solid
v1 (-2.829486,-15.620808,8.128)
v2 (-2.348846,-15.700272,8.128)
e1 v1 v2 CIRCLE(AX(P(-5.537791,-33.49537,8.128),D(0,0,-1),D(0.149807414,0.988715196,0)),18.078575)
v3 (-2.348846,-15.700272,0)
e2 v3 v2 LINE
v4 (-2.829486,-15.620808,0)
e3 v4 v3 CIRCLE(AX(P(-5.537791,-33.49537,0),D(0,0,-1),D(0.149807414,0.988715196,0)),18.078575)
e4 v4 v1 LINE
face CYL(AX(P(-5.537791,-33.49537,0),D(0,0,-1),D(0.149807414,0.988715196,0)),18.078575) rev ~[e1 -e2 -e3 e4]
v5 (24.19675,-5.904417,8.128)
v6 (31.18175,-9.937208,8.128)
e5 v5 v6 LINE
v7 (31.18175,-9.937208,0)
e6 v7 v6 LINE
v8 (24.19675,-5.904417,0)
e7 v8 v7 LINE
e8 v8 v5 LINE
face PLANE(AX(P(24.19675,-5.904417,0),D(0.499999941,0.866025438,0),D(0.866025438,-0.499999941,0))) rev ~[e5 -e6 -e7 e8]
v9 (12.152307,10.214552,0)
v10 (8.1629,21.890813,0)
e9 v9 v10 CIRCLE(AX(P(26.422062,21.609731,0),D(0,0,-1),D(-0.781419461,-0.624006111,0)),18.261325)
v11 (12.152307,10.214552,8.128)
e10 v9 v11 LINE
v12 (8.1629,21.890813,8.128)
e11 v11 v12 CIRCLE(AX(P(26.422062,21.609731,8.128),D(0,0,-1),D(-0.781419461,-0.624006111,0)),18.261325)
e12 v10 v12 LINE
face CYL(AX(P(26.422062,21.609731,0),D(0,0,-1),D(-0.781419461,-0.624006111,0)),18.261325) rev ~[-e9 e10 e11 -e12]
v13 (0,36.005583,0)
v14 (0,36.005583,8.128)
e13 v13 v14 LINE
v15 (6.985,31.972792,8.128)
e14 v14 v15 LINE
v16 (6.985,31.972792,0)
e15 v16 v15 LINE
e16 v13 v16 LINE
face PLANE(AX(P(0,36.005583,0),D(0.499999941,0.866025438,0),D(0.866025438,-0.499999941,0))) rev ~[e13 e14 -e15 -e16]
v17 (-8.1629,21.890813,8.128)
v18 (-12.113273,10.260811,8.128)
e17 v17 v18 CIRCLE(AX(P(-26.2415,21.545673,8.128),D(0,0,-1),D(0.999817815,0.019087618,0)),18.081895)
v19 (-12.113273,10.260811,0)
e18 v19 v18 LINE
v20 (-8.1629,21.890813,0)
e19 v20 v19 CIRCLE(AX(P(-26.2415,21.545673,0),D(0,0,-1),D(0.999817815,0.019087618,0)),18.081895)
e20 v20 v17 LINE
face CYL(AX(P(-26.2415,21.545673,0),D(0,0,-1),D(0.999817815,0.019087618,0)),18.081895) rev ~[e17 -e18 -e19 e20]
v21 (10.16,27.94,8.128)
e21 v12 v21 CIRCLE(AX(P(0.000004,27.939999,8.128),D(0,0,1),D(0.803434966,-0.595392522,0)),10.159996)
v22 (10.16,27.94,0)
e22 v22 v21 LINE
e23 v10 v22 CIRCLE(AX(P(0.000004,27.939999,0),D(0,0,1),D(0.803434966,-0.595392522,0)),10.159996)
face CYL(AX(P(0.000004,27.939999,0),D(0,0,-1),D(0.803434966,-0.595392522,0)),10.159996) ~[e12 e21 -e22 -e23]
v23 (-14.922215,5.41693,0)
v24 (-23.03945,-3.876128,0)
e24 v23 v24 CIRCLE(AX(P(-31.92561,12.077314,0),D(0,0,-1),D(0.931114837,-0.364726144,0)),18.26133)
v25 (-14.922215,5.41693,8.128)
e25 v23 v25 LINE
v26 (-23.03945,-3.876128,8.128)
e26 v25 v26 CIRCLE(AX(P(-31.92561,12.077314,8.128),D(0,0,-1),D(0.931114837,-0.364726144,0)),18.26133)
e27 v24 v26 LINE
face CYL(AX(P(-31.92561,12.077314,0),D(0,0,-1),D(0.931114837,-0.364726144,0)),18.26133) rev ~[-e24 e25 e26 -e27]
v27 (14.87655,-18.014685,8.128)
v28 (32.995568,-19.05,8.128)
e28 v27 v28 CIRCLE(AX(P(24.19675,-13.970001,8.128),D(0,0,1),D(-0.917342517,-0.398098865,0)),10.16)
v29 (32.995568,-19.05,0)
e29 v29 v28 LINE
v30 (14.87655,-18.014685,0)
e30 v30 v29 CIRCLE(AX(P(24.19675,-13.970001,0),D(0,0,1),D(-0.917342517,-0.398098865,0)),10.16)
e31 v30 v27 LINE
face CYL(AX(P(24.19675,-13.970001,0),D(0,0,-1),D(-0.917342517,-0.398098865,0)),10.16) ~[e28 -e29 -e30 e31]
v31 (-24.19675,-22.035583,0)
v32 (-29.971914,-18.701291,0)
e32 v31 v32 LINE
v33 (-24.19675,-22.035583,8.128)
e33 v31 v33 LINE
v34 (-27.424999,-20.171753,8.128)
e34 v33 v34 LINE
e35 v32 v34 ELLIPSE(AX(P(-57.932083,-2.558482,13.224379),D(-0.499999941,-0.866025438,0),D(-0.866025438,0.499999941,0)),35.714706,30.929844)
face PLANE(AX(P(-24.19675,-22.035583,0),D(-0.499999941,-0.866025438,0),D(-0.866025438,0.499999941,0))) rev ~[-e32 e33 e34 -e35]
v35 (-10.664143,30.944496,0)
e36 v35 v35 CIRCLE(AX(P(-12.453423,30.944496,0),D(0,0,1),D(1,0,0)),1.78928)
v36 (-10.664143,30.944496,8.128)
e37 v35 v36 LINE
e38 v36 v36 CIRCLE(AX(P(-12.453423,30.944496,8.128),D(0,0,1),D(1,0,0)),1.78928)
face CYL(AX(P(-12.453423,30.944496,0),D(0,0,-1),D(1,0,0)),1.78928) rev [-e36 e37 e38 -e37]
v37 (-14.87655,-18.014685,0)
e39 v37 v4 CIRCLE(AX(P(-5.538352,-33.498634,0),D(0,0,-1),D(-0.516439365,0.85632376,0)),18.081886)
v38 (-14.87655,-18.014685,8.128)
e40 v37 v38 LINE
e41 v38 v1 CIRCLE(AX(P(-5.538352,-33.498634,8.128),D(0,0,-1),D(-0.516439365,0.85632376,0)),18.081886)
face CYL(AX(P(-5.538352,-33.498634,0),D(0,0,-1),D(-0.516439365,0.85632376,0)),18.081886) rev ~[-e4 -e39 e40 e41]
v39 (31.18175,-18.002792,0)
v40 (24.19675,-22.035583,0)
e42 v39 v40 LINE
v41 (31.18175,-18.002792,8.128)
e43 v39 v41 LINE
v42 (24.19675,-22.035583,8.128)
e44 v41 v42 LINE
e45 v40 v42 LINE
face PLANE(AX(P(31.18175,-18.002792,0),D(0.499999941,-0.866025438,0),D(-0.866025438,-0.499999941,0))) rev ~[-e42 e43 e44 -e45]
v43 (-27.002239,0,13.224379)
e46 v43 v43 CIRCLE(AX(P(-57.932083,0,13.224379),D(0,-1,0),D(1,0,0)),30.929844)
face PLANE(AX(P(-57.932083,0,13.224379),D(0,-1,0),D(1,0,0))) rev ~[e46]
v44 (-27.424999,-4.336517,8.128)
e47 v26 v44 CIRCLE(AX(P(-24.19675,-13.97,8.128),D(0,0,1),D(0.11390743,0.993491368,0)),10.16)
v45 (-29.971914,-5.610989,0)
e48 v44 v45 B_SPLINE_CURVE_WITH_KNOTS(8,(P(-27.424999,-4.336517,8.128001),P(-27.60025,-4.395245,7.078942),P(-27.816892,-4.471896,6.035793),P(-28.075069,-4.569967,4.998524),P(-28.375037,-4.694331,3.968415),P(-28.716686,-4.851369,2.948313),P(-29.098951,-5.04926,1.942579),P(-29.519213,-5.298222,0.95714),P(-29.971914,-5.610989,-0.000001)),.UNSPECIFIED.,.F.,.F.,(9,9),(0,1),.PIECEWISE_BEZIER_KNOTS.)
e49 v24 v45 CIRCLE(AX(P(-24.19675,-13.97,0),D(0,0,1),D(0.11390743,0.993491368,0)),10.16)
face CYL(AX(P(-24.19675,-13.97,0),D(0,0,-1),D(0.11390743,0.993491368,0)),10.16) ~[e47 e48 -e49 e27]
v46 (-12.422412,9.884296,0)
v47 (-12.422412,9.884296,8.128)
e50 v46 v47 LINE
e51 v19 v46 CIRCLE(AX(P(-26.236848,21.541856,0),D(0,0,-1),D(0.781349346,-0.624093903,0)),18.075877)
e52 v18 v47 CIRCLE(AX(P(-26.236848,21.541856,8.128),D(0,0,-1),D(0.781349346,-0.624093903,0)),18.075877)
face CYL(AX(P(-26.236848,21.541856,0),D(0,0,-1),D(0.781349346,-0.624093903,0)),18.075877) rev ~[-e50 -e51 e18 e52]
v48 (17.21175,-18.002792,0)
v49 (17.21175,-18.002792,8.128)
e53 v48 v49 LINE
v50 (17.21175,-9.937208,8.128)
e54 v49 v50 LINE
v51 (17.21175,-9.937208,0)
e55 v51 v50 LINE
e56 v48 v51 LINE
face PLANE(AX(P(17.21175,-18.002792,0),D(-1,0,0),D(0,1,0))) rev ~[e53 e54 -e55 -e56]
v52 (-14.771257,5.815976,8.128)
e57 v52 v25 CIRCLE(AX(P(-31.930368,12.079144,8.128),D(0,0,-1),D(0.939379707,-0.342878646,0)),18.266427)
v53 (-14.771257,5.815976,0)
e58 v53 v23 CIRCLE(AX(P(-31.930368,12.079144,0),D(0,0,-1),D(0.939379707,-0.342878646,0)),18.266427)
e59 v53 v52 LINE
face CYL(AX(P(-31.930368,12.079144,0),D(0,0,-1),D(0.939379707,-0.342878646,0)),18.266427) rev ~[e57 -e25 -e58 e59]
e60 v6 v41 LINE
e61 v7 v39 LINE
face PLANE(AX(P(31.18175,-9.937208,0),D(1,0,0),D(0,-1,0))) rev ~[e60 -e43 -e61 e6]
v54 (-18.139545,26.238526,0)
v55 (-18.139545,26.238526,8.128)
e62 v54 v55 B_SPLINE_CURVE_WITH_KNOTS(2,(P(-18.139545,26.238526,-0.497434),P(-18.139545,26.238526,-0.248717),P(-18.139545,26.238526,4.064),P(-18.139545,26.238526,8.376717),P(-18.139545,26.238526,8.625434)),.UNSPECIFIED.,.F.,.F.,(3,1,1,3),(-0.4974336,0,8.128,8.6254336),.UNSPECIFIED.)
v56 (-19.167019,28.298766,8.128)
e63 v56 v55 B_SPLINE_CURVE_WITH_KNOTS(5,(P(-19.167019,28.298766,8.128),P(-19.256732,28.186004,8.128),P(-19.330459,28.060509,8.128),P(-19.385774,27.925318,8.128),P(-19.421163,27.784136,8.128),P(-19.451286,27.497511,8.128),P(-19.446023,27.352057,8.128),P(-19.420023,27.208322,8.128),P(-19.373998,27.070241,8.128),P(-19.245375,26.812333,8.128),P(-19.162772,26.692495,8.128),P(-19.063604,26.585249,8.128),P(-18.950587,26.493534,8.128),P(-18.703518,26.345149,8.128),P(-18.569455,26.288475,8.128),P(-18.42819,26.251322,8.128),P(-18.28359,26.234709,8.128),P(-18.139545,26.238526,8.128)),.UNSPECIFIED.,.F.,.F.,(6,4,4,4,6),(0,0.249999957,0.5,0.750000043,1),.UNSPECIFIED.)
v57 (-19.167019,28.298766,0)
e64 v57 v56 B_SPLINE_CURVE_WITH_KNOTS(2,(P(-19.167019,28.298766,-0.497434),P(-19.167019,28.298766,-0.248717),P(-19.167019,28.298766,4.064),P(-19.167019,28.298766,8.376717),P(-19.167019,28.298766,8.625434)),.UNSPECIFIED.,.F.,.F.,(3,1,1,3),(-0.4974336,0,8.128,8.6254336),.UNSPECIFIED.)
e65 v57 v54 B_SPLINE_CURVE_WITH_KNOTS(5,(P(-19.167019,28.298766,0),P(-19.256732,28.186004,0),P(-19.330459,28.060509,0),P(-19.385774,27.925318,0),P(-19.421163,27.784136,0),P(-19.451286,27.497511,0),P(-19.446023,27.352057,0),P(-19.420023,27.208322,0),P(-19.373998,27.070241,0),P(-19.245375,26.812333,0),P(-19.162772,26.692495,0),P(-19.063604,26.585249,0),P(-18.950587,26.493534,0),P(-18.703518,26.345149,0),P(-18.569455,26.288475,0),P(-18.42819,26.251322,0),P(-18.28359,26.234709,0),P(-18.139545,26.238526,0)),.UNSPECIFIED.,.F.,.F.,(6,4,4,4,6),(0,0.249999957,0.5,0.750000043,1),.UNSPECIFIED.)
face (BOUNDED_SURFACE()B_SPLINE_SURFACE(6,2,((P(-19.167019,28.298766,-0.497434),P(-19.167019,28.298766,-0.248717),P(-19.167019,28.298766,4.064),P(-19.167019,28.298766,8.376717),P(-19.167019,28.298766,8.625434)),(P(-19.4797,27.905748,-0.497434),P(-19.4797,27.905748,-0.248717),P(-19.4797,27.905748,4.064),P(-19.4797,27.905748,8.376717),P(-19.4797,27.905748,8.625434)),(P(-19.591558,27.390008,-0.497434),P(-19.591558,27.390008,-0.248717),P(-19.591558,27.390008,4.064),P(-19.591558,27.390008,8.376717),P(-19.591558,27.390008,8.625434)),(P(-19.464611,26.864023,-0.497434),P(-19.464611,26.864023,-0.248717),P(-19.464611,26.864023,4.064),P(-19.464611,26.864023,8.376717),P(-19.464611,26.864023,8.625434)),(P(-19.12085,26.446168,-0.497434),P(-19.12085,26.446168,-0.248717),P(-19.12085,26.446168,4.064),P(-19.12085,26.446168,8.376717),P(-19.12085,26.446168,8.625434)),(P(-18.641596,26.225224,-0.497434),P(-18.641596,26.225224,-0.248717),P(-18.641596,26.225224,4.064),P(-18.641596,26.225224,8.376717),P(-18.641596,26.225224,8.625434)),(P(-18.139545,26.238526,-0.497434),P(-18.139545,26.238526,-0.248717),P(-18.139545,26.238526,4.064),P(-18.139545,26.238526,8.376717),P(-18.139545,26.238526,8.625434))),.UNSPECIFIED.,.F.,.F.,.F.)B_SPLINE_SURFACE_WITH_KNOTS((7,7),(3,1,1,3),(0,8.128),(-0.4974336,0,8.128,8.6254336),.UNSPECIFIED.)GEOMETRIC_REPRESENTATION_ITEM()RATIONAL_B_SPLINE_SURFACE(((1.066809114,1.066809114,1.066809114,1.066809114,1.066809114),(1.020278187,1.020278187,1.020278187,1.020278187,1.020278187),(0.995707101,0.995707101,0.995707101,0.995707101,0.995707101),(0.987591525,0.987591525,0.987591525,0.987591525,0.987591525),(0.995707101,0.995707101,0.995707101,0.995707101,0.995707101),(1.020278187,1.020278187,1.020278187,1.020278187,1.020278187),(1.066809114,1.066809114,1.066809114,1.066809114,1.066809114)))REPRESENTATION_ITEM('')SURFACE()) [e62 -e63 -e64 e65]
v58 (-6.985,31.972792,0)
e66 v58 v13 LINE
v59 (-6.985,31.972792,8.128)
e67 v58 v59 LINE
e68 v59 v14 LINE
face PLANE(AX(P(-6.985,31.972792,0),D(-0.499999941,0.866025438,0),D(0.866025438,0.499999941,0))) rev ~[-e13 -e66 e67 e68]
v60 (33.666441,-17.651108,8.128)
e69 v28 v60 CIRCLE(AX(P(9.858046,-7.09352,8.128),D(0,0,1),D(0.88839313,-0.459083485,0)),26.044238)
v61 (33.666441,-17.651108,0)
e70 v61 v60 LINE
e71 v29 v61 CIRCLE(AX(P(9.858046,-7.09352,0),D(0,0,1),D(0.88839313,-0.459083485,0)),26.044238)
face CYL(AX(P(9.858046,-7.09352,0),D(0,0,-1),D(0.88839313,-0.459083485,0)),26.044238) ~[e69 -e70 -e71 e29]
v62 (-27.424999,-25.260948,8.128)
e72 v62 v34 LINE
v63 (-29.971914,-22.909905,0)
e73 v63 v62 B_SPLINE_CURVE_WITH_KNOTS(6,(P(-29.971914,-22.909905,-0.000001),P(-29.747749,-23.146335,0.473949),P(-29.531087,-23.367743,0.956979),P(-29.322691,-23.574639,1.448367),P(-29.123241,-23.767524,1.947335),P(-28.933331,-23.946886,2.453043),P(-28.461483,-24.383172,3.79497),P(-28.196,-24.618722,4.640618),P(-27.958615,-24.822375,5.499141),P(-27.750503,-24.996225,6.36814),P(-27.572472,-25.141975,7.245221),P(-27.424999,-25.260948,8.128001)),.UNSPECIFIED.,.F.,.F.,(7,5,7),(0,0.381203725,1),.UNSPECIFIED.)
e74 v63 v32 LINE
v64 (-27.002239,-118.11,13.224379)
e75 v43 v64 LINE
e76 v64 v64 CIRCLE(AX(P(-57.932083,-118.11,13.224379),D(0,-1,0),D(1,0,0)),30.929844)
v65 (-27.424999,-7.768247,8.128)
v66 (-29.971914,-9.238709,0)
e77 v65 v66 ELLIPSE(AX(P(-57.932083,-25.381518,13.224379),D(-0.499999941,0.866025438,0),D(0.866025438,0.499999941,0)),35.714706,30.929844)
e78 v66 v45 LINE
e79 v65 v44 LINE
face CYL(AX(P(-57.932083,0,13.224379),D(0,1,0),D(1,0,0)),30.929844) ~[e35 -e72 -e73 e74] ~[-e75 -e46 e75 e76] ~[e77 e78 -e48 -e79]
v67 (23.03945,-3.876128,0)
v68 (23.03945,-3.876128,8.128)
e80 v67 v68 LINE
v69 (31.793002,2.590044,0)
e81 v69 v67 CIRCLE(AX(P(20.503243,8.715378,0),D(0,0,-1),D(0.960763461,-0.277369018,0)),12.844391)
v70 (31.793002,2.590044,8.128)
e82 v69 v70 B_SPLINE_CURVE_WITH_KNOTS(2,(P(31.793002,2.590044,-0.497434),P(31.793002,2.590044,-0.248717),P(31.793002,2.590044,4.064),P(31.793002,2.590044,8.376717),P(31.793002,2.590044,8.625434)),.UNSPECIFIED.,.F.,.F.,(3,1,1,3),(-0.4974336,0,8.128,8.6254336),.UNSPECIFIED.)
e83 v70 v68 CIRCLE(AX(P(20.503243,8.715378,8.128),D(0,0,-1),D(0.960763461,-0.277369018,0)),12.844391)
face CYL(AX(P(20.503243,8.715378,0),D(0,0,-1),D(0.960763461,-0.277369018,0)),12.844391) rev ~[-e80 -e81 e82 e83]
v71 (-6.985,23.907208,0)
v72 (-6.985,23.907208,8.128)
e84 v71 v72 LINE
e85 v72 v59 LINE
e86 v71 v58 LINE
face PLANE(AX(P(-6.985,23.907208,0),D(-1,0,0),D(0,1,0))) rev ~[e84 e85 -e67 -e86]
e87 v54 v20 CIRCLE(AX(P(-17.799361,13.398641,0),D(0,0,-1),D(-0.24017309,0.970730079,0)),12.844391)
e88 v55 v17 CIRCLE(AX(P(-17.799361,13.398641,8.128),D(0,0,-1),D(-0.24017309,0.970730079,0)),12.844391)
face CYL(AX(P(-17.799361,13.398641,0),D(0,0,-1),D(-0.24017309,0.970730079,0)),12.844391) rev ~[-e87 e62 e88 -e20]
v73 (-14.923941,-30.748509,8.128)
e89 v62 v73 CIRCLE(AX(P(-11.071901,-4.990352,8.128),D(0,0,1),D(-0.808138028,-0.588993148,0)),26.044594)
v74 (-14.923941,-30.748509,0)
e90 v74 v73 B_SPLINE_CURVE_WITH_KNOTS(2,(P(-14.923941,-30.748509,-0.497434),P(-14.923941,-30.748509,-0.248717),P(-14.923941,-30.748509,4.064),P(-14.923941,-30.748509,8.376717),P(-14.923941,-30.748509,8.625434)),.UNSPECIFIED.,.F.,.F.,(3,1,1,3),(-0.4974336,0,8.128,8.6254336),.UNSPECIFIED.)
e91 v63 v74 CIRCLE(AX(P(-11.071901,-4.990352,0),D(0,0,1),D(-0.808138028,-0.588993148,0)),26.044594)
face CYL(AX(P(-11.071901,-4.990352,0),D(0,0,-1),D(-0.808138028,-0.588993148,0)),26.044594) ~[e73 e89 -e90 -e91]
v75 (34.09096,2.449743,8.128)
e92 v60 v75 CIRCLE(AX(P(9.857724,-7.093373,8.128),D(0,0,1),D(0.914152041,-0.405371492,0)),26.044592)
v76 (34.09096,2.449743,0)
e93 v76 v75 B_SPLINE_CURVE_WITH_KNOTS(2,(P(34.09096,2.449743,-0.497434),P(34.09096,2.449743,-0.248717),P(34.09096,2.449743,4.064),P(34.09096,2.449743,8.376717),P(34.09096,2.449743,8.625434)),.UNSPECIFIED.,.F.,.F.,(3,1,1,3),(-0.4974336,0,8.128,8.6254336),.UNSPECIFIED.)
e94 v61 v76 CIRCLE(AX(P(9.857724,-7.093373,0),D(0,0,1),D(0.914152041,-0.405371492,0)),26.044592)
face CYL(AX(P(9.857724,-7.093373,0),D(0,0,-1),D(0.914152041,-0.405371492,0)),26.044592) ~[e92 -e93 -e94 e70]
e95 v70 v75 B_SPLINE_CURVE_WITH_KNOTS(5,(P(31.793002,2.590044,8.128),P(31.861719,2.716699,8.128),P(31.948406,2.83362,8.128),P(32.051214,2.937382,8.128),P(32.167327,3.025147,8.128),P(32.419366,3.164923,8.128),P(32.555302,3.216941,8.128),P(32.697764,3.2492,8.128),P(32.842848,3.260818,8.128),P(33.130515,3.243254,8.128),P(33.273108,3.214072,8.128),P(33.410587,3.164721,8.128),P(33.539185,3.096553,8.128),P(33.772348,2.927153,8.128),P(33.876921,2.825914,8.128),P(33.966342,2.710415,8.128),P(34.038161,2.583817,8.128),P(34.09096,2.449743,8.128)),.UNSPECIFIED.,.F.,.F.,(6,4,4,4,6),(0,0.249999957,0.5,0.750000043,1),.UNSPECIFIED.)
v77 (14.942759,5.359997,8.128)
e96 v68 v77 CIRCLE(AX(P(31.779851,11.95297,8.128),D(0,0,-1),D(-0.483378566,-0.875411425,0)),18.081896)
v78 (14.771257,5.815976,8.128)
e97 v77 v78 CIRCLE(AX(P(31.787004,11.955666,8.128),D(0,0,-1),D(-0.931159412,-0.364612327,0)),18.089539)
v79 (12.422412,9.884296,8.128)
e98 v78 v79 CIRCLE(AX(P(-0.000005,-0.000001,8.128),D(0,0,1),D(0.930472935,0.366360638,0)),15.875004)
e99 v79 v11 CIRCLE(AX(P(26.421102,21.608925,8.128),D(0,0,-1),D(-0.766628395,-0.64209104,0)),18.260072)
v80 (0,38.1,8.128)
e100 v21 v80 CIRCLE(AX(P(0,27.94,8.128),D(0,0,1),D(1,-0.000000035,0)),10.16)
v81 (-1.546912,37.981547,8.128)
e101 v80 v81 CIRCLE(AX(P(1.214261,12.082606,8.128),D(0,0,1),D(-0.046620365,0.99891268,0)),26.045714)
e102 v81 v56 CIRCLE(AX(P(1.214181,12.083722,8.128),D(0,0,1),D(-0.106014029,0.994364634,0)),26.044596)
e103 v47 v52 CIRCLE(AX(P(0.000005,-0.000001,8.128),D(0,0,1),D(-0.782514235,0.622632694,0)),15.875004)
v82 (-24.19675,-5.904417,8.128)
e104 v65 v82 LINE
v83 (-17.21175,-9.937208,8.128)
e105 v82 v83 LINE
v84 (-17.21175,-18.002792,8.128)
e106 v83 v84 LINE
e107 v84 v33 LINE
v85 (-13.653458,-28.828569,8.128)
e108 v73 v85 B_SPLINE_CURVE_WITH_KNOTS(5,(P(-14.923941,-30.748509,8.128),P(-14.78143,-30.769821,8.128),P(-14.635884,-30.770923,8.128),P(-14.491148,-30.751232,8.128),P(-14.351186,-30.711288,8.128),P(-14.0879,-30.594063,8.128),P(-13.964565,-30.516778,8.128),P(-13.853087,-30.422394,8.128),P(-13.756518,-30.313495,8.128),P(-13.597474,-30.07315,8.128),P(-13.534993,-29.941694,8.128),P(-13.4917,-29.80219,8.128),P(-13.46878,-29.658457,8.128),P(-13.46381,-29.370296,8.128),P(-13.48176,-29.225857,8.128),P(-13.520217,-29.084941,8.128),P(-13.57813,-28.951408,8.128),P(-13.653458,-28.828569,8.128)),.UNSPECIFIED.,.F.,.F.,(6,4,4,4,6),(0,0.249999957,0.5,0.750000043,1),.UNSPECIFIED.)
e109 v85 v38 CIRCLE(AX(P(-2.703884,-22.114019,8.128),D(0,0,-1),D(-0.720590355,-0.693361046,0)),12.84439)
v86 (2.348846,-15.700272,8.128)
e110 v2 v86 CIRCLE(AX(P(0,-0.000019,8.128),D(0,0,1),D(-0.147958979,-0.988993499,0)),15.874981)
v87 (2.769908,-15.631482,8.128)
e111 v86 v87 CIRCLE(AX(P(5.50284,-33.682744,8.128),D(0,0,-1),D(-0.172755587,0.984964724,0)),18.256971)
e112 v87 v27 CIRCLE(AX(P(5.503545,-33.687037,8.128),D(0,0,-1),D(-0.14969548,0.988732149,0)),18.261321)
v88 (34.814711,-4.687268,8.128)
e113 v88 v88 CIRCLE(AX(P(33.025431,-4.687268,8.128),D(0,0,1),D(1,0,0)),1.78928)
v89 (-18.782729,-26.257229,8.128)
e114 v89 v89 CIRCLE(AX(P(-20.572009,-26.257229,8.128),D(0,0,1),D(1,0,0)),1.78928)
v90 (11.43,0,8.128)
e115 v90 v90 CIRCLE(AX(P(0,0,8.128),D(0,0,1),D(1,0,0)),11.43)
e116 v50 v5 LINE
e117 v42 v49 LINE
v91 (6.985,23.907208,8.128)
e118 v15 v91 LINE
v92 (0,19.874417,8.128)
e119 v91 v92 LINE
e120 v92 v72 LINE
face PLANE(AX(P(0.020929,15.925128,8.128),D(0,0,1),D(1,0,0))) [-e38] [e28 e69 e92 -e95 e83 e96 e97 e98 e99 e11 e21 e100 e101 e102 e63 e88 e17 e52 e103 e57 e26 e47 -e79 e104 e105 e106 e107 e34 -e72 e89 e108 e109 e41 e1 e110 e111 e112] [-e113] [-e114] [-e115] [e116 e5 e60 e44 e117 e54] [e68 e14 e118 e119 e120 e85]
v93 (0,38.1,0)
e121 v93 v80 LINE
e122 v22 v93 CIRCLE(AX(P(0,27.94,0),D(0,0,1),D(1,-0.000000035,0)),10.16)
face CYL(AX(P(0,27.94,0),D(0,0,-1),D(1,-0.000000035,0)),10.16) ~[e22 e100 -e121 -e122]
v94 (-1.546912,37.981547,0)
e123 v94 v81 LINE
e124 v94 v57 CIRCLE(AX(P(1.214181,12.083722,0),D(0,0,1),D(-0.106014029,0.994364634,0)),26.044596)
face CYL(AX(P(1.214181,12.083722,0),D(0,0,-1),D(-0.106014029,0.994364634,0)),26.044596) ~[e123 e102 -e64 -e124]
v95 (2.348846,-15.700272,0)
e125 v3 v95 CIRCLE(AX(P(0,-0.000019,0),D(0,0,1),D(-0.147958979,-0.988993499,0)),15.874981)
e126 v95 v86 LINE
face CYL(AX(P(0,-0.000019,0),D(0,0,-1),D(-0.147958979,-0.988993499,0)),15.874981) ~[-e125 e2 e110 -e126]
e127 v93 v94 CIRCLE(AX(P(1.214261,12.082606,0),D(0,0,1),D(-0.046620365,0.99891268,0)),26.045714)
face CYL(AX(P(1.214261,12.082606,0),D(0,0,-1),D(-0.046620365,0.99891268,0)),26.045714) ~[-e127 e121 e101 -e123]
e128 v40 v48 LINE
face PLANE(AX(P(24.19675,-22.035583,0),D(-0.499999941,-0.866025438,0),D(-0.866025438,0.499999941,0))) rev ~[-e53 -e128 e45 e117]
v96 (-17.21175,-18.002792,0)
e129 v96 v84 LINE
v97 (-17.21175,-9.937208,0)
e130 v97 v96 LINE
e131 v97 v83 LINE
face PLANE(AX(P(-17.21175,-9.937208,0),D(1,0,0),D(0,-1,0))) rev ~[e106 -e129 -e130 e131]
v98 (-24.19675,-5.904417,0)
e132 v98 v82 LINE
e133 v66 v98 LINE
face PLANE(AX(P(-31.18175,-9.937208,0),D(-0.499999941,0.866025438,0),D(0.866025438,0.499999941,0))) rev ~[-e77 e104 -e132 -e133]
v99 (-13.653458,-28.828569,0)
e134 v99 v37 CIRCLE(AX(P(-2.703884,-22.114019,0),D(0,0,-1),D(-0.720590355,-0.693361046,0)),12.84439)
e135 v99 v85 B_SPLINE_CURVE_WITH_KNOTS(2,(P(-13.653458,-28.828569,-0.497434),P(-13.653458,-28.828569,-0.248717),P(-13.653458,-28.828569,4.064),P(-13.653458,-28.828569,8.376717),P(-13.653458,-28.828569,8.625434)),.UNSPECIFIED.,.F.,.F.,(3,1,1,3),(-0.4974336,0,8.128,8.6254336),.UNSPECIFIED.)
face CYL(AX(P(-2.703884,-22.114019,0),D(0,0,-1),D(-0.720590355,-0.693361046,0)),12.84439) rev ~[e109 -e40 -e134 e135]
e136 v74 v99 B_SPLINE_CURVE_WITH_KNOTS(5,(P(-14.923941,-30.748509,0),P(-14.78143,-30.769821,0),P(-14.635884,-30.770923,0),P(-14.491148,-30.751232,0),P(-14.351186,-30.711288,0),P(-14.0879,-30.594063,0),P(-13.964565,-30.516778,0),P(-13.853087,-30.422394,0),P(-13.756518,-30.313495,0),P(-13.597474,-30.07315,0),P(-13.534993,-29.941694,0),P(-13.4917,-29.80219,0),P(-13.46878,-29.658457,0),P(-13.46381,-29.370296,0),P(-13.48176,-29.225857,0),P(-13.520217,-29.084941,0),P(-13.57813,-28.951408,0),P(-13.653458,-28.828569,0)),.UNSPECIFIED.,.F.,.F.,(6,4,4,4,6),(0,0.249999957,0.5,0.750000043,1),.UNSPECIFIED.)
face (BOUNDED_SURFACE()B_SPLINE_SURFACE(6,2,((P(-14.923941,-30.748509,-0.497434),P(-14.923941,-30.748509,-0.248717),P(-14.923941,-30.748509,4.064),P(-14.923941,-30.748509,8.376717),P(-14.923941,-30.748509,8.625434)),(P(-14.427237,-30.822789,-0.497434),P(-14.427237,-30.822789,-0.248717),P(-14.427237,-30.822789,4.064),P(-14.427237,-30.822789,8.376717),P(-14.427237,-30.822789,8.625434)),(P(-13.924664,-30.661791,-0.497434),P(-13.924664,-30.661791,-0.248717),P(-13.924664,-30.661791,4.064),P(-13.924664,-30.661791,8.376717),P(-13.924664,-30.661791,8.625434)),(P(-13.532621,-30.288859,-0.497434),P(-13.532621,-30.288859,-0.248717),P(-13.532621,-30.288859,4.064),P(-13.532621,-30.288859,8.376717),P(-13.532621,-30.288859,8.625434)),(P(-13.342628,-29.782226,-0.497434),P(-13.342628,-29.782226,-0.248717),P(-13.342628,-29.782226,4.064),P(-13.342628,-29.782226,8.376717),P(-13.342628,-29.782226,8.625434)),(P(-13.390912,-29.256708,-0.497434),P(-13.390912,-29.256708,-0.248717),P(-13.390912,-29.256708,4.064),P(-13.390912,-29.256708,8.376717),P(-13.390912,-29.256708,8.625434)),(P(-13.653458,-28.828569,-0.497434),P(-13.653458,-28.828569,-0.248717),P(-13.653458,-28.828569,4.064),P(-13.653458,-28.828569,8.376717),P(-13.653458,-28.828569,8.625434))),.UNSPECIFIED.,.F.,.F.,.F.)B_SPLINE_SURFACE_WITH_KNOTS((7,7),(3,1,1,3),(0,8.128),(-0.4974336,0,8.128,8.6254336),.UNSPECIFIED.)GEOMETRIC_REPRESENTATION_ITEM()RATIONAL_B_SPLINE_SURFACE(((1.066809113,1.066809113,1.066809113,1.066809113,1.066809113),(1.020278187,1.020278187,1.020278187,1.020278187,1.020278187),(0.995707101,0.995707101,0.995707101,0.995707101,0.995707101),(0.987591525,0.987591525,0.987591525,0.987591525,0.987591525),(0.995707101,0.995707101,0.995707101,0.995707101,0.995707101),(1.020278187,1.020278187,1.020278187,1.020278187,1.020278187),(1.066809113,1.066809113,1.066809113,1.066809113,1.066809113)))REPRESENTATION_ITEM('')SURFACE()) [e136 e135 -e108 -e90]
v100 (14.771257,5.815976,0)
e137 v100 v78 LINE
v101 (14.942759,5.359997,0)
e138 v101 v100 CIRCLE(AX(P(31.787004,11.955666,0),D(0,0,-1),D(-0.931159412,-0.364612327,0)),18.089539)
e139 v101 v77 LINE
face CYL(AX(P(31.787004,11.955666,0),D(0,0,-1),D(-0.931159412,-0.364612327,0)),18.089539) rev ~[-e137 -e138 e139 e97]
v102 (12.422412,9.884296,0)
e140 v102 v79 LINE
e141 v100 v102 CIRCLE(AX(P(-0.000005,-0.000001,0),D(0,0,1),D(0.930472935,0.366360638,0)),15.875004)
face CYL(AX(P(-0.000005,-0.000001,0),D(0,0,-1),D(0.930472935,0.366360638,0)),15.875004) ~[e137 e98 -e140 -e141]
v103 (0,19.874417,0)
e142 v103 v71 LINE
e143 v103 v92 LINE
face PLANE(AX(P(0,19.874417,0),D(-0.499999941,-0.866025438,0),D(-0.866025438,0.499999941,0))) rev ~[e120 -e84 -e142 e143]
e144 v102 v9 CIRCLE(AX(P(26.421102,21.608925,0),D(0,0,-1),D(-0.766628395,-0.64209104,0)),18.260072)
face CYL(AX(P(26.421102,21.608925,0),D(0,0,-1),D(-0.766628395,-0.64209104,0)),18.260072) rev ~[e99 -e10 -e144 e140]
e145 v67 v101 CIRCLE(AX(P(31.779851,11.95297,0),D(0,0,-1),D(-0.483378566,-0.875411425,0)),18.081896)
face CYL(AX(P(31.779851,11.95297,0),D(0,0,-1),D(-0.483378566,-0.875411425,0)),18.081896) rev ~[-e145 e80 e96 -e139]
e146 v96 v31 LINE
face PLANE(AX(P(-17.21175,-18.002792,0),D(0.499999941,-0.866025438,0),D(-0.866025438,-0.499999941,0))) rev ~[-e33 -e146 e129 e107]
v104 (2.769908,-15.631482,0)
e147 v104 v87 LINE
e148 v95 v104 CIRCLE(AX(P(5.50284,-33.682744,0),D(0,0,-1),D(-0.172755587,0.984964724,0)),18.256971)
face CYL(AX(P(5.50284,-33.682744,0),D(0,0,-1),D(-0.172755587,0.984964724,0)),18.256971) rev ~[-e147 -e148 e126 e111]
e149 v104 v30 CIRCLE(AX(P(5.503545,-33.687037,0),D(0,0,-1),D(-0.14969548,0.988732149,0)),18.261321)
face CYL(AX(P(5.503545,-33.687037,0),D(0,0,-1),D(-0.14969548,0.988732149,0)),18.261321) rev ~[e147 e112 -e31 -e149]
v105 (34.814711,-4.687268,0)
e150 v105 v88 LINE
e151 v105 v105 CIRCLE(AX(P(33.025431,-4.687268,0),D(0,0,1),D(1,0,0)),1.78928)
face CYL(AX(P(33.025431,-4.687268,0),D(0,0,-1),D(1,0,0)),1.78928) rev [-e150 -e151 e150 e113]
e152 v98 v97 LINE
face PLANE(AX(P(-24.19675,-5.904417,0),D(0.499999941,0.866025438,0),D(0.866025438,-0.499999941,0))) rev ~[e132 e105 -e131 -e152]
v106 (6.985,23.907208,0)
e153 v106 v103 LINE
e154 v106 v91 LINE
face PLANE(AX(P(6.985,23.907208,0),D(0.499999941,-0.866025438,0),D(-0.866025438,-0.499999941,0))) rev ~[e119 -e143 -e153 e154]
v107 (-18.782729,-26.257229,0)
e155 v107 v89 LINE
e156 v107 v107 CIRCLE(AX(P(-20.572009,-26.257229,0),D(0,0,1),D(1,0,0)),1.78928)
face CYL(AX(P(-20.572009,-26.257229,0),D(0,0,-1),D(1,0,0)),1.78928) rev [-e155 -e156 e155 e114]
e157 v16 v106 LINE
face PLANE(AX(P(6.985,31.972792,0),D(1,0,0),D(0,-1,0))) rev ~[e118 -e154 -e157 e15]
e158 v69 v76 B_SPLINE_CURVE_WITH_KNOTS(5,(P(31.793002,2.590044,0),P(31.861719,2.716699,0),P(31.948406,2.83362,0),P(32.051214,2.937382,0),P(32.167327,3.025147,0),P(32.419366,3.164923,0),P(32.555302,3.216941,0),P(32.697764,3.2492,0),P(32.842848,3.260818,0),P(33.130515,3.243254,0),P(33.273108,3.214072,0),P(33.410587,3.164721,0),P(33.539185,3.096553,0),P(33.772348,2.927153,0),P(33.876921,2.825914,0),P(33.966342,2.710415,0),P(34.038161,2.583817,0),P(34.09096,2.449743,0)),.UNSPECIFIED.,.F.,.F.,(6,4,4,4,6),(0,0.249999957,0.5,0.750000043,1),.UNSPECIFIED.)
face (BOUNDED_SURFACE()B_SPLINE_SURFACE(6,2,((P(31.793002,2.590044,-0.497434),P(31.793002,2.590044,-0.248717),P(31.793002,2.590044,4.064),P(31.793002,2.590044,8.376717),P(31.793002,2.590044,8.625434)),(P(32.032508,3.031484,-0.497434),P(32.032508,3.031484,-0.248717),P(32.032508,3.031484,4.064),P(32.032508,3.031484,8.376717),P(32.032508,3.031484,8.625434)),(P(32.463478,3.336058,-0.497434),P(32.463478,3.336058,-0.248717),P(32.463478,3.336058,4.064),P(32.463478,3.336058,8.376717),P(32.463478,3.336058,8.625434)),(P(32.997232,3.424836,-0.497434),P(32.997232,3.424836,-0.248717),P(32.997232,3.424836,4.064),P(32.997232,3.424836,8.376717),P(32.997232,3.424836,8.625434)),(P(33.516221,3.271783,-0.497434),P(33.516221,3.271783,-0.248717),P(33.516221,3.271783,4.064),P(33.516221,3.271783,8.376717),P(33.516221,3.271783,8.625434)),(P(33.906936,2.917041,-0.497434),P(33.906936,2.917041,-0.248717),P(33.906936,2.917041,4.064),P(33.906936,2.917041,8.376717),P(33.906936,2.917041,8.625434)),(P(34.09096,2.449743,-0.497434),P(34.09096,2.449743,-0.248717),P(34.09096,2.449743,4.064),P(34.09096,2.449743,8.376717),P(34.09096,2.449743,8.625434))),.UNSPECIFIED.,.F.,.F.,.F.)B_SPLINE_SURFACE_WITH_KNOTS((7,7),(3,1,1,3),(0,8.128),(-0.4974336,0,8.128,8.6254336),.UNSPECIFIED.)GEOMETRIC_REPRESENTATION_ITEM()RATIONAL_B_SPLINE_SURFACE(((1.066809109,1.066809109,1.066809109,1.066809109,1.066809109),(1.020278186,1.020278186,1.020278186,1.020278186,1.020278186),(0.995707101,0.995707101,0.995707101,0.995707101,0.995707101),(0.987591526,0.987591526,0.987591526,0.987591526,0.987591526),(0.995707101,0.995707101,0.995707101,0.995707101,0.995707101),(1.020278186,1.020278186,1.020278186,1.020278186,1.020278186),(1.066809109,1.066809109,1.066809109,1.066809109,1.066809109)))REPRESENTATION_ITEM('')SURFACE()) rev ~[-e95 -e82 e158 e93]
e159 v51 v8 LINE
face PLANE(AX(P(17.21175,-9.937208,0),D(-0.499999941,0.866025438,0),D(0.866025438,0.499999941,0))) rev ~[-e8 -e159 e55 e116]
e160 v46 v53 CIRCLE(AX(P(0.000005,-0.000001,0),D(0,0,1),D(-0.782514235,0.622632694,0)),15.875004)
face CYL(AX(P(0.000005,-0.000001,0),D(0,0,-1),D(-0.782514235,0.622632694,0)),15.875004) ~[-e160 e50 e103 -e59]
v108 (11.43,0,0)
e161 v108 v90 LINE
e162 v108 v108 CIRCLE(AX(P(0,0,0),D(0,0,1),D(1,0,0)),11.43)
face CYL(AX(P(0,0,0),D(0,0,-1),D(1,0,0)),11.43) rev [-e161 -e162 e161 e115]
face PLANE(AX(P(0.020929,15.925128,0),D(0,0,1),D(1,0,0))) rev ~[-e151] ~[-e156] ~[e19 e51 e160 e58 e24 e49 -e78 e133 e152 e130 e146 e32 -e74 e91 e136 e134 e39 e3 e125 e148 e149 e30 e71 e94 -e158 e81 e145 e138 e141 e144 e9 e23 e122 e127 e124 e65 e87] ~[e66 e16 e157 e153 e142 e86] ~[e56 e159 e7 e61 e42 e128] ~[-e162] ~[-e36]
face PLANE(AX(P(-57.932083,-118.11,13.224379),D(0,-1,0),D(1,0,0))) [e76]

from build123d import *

# Parameters (mm, degrees)
F0_R     = 1.78928
F0_R_2   = 11.43
F1_DEPTH = 8.128
F2_R     = 1.27
F3_R     = 30.929844
F4_DEPTH = 118.11


with BuildPart() as f1:
    # F0 (on Top) → F1 (new body)
    with BuildSketch(Plane.XY):
        with BuildLine():
            ThreePointArc((12.152307, 10.214552), (9.141542, 15.705526), (8.1629, 21.890813))
            ThreePointArc((8.1629, 21.890813), (0, 17.78), (-8.1629, 21.890813))
            ThreePointArc((-8.1629, 21.890813), (-9.120339, 15.730112), (-12.113273, 10.260811))
            ThreePointArc((-12.113273, 10.260811), (0.030263, 15.874971), (12.152307, 10.214552))
        make_face()
        with BuildLine():
            ThreePointArc((10.16, 27.94), (7.184205, 35.124205), (0, 38.1))
            ThreePointArc((0, 38.1), (-0.774338, 38.052294), (-1.546912, 37.981547))
            ThreePointArc((-1.546912, 37.981547), (-9.396704, 31.80362), (-8.1629, 21.890813))
            ThreePointArc((-8.1629, 21.890813), (0, 17.78), (8.1629, 21.890813))
            ThreePointArc((8.1629, 21.890813), (9.647815, 24.754836), (10.16, 27.94))
        make_face()
        Polygon((-6.985, 31.972792), (0, 36.005583), (6.985, 31.972792), (6.985, 23.907208), (0, 19.874417), (-6.985, 23.907208), align=None, mode=Mode.SUBTRACT)
        with BuildLine():
            ThreePointArc((-8.1629, 21.890813), (-9.396704, 31.80362), (-1.546912, 37.981547))
            ThreePointArc((-1.546912, 37.981547), (-12.612928, 34.15479), (-20.884238, 25.867077))
            ThreePointArc((-20.884238, 25.867077), (-13.967457, 25.658122), (-8.1629, 21.890813))
        make_face()
        with Locations((-12.453423, 30.944496)):
            Circle(F0_R, mode=Mode.SUBTRACT)
        with BuildLine():
            ThreePointArc((2.348846, -15.700272), (2.559176, -15.664647), (2.769908, -15.631482))
            ThreePointArc((2.769908, -15.631482), (12.165277, -10.199101), (15.875, 0))
            ThreePointArc((15.875, 0), (15.640204, 2.720232), (14.942759, 5.359997))
            ThreePointArc((14.942759, 5.359997), (14.855473, 5.587409), (14.771257, 5.815976))
            ThreePointArc((14.771257, 5.815976), (13.748153, 7.9375), (12.422412, 9.884296))
            ThreePointArc((12.422412, 9.884296), (12.286395, 10.048635), (12.152307, 10.214552))
            ThreePointArc((12.152307, 10.214552), (0.030263, 15.874971), (-12.113273, 10.260811))
            ThreePointArc((-12.113273, 10.260811), (-12.266574, 10.071512), (-12.422412, 9.884296))
            ThreePointArc((-12.422412, 9.884296), (-13.748153, 7.9375), (-14.771257, 5.815976))
            ThreePointArc((-14.771257, 5.815976), (-14.845571, 5.616012), (-14.922215, 5.41693))
            ThreePointArc((-14.922215, 5.41693), (-13.76326, -7.911277), (-2.829486, -15.620808))
            ThreePointArc((-2.829486, -15.620808), (-2.588898, -15.658921), (-2.348846, -15.700272))
            ThreePointArc((-2.348846, -15.700272), (0, -15.875), (2.348846, -15.700272))
        make_face()
        Circle(F0_R_2, mode=Mode.SUBTRACT)
        with BuildLine():
            ThreePointArc((-23.03945, -3.876128), (-32.691442, -8.39633), (-32.995568, -19.05))
            ThreePointArc((-32.995568, -19.05), (-32.567084, -19.696744), (-32.119528, -20.330439))
            ThreePointArc((-32.119528, -20.330439), (-22.844391, -24.039594), (-14.87655, -18.014685))
            ThreePointArc((-14.87655, -18.014685), (-14.248915, -16.035474), (-14.03675, -13.97))
            ThreePointArc((-14.03675, -13.97), (-16.614409, -7.207329), (-23.03945, -3.876128))
        make_face()
        Polygon((-17.21175, -9.937208), (-17.21175, -18.002792), (-24.19675, -22.035583), (-31.18175, -18.002792), (-31.18175, -9.937208), (-24.19675, -5.904417), align=None, mode=Mode.SUBTRACT)
        with BuildLine():
            ThreePointArc((-14.922215, 5.41693), (-18.172156, 0.064044), (-23.03945, -3.876128))
            ThreePointArc((-23.03945, -3.876128), (-16.614409, -7.207329), (-14.03675, -13.97))
            ThreePointArc((-14.03675, -13.97), (-14.248915, -16.035474), (-14.87655, -18.014685))
            ThreePointArc((-14.87655, -18.014685), (-9.062508, -15.763501), (-2.829486, -15.620808))
            ThreePointArc((-2.829486, -15.620808), (-13.76326, -7.911277), (-14.922215, 5.41693))
        make_face()
        with BuildLine():
            ThreePointArc((-14.87655, -18.014685), (-22.844391, -24.039594), (-32.119528, -20.330439))
            ThreePointArc((-32.119528, -20.330439), (-23.272452, -28.000511), (-11.959427, -31.019819))
            ThreePointArc((-11.959427, -31.019819), (-15.236857, -24.925234), (-14.87655, -18.014685))
        make_face()
        with Locations((-20.572009, -26.257229)):
            Circle(F0_R, mode=Mode.SUBTRACT)
        with BuildLine():
            ThreePointArc((2.769908, -15.631482), (9.030614, -15.76957), (14.87655, -18.014685))
            ThreePointArc((14.87655, -18.014685), (15.397932, -8.89), (23.03945, -3.876128))
            ThreePointArc((23.03945, -3.876128), (18.182846, 0.033389), (14.942759, 5.359997))
            ThreePointArc((14.942759, 5.359997), (15.640204, 2.720232), (15.875, 0))
            ThreePointArc((15.875, 0), (12.165277, -10.199101), (2.769908, -15.631482))
        make_face()
        with BuildLine():
            ThreePointArc((14.87655, -18.014685), (23.617156, -24.113455), (32.995568, -19.05))
            ThreePointArc((32.995568, -19.05), (33.341423, -18.355551), (33.666441, -17.651108))
            ThreePointArc((33.666441, -17.651108), (34.182681, -15.842637), (34.35675, -13.97))
            ThreePointArc((34.35675, -13.97), (30.95942, -6.38766), (23.03945, -3.876128))
            ThreePointArc((23.03945, -3.876128), (15.397932, -8.89), (14.87655, -18.014685))
        make_face()
        Polygon((17.21175, -9.937208), (24.19675, -5.904417), (31.18175, -9.937208), (31.18175, -18.002792), (24.19675, -22.035583), (17.21175, -18.002792), align=None, mode=Mode.SUBTRACT)
        with BuildLine():
            ThreePointArc((34.35675, -13.97), (34.182681, -15.842637), (33.666441, -17.651108))
            ThreePointArc((33.666441, -17.651108), (35.88538, -6.154279), (32.843664, 5.152742))
            ThreePointArc((32.843664, 5.152742), (29.204314, -0.732888), (23.03945, -3.876128))
            ThreePointArc((23.03945, -3.876128), (30.95942, -6.38766), (34.35675, -13.97))
        make_face()
        with Locations((33.025431, -4.687268)):
            Circle(F0_R, mode=Mode.SUBTRACT)
    extrude(amount=F1_DEPTH)

    # F2
    f2_edges = [f1.edges().sort_by_distance(p)[0] for p in [
        (-20.884238, 25.867077, 4.064),
        (-11.959427, -31.019819, 4.064),
        (32.843664, 5.152742, 4.064),
    ]]
    fillet(f2_edges, radius=F2_R)

    # F3 (on Front) → F4 (join)
    with BuildSketch(Plane.XZ):
        with Locations((-57.932083, 13.224379)):
            Circle(F3_R)
    extrude(amount=F4_DEPTH)


solid = f1.part
